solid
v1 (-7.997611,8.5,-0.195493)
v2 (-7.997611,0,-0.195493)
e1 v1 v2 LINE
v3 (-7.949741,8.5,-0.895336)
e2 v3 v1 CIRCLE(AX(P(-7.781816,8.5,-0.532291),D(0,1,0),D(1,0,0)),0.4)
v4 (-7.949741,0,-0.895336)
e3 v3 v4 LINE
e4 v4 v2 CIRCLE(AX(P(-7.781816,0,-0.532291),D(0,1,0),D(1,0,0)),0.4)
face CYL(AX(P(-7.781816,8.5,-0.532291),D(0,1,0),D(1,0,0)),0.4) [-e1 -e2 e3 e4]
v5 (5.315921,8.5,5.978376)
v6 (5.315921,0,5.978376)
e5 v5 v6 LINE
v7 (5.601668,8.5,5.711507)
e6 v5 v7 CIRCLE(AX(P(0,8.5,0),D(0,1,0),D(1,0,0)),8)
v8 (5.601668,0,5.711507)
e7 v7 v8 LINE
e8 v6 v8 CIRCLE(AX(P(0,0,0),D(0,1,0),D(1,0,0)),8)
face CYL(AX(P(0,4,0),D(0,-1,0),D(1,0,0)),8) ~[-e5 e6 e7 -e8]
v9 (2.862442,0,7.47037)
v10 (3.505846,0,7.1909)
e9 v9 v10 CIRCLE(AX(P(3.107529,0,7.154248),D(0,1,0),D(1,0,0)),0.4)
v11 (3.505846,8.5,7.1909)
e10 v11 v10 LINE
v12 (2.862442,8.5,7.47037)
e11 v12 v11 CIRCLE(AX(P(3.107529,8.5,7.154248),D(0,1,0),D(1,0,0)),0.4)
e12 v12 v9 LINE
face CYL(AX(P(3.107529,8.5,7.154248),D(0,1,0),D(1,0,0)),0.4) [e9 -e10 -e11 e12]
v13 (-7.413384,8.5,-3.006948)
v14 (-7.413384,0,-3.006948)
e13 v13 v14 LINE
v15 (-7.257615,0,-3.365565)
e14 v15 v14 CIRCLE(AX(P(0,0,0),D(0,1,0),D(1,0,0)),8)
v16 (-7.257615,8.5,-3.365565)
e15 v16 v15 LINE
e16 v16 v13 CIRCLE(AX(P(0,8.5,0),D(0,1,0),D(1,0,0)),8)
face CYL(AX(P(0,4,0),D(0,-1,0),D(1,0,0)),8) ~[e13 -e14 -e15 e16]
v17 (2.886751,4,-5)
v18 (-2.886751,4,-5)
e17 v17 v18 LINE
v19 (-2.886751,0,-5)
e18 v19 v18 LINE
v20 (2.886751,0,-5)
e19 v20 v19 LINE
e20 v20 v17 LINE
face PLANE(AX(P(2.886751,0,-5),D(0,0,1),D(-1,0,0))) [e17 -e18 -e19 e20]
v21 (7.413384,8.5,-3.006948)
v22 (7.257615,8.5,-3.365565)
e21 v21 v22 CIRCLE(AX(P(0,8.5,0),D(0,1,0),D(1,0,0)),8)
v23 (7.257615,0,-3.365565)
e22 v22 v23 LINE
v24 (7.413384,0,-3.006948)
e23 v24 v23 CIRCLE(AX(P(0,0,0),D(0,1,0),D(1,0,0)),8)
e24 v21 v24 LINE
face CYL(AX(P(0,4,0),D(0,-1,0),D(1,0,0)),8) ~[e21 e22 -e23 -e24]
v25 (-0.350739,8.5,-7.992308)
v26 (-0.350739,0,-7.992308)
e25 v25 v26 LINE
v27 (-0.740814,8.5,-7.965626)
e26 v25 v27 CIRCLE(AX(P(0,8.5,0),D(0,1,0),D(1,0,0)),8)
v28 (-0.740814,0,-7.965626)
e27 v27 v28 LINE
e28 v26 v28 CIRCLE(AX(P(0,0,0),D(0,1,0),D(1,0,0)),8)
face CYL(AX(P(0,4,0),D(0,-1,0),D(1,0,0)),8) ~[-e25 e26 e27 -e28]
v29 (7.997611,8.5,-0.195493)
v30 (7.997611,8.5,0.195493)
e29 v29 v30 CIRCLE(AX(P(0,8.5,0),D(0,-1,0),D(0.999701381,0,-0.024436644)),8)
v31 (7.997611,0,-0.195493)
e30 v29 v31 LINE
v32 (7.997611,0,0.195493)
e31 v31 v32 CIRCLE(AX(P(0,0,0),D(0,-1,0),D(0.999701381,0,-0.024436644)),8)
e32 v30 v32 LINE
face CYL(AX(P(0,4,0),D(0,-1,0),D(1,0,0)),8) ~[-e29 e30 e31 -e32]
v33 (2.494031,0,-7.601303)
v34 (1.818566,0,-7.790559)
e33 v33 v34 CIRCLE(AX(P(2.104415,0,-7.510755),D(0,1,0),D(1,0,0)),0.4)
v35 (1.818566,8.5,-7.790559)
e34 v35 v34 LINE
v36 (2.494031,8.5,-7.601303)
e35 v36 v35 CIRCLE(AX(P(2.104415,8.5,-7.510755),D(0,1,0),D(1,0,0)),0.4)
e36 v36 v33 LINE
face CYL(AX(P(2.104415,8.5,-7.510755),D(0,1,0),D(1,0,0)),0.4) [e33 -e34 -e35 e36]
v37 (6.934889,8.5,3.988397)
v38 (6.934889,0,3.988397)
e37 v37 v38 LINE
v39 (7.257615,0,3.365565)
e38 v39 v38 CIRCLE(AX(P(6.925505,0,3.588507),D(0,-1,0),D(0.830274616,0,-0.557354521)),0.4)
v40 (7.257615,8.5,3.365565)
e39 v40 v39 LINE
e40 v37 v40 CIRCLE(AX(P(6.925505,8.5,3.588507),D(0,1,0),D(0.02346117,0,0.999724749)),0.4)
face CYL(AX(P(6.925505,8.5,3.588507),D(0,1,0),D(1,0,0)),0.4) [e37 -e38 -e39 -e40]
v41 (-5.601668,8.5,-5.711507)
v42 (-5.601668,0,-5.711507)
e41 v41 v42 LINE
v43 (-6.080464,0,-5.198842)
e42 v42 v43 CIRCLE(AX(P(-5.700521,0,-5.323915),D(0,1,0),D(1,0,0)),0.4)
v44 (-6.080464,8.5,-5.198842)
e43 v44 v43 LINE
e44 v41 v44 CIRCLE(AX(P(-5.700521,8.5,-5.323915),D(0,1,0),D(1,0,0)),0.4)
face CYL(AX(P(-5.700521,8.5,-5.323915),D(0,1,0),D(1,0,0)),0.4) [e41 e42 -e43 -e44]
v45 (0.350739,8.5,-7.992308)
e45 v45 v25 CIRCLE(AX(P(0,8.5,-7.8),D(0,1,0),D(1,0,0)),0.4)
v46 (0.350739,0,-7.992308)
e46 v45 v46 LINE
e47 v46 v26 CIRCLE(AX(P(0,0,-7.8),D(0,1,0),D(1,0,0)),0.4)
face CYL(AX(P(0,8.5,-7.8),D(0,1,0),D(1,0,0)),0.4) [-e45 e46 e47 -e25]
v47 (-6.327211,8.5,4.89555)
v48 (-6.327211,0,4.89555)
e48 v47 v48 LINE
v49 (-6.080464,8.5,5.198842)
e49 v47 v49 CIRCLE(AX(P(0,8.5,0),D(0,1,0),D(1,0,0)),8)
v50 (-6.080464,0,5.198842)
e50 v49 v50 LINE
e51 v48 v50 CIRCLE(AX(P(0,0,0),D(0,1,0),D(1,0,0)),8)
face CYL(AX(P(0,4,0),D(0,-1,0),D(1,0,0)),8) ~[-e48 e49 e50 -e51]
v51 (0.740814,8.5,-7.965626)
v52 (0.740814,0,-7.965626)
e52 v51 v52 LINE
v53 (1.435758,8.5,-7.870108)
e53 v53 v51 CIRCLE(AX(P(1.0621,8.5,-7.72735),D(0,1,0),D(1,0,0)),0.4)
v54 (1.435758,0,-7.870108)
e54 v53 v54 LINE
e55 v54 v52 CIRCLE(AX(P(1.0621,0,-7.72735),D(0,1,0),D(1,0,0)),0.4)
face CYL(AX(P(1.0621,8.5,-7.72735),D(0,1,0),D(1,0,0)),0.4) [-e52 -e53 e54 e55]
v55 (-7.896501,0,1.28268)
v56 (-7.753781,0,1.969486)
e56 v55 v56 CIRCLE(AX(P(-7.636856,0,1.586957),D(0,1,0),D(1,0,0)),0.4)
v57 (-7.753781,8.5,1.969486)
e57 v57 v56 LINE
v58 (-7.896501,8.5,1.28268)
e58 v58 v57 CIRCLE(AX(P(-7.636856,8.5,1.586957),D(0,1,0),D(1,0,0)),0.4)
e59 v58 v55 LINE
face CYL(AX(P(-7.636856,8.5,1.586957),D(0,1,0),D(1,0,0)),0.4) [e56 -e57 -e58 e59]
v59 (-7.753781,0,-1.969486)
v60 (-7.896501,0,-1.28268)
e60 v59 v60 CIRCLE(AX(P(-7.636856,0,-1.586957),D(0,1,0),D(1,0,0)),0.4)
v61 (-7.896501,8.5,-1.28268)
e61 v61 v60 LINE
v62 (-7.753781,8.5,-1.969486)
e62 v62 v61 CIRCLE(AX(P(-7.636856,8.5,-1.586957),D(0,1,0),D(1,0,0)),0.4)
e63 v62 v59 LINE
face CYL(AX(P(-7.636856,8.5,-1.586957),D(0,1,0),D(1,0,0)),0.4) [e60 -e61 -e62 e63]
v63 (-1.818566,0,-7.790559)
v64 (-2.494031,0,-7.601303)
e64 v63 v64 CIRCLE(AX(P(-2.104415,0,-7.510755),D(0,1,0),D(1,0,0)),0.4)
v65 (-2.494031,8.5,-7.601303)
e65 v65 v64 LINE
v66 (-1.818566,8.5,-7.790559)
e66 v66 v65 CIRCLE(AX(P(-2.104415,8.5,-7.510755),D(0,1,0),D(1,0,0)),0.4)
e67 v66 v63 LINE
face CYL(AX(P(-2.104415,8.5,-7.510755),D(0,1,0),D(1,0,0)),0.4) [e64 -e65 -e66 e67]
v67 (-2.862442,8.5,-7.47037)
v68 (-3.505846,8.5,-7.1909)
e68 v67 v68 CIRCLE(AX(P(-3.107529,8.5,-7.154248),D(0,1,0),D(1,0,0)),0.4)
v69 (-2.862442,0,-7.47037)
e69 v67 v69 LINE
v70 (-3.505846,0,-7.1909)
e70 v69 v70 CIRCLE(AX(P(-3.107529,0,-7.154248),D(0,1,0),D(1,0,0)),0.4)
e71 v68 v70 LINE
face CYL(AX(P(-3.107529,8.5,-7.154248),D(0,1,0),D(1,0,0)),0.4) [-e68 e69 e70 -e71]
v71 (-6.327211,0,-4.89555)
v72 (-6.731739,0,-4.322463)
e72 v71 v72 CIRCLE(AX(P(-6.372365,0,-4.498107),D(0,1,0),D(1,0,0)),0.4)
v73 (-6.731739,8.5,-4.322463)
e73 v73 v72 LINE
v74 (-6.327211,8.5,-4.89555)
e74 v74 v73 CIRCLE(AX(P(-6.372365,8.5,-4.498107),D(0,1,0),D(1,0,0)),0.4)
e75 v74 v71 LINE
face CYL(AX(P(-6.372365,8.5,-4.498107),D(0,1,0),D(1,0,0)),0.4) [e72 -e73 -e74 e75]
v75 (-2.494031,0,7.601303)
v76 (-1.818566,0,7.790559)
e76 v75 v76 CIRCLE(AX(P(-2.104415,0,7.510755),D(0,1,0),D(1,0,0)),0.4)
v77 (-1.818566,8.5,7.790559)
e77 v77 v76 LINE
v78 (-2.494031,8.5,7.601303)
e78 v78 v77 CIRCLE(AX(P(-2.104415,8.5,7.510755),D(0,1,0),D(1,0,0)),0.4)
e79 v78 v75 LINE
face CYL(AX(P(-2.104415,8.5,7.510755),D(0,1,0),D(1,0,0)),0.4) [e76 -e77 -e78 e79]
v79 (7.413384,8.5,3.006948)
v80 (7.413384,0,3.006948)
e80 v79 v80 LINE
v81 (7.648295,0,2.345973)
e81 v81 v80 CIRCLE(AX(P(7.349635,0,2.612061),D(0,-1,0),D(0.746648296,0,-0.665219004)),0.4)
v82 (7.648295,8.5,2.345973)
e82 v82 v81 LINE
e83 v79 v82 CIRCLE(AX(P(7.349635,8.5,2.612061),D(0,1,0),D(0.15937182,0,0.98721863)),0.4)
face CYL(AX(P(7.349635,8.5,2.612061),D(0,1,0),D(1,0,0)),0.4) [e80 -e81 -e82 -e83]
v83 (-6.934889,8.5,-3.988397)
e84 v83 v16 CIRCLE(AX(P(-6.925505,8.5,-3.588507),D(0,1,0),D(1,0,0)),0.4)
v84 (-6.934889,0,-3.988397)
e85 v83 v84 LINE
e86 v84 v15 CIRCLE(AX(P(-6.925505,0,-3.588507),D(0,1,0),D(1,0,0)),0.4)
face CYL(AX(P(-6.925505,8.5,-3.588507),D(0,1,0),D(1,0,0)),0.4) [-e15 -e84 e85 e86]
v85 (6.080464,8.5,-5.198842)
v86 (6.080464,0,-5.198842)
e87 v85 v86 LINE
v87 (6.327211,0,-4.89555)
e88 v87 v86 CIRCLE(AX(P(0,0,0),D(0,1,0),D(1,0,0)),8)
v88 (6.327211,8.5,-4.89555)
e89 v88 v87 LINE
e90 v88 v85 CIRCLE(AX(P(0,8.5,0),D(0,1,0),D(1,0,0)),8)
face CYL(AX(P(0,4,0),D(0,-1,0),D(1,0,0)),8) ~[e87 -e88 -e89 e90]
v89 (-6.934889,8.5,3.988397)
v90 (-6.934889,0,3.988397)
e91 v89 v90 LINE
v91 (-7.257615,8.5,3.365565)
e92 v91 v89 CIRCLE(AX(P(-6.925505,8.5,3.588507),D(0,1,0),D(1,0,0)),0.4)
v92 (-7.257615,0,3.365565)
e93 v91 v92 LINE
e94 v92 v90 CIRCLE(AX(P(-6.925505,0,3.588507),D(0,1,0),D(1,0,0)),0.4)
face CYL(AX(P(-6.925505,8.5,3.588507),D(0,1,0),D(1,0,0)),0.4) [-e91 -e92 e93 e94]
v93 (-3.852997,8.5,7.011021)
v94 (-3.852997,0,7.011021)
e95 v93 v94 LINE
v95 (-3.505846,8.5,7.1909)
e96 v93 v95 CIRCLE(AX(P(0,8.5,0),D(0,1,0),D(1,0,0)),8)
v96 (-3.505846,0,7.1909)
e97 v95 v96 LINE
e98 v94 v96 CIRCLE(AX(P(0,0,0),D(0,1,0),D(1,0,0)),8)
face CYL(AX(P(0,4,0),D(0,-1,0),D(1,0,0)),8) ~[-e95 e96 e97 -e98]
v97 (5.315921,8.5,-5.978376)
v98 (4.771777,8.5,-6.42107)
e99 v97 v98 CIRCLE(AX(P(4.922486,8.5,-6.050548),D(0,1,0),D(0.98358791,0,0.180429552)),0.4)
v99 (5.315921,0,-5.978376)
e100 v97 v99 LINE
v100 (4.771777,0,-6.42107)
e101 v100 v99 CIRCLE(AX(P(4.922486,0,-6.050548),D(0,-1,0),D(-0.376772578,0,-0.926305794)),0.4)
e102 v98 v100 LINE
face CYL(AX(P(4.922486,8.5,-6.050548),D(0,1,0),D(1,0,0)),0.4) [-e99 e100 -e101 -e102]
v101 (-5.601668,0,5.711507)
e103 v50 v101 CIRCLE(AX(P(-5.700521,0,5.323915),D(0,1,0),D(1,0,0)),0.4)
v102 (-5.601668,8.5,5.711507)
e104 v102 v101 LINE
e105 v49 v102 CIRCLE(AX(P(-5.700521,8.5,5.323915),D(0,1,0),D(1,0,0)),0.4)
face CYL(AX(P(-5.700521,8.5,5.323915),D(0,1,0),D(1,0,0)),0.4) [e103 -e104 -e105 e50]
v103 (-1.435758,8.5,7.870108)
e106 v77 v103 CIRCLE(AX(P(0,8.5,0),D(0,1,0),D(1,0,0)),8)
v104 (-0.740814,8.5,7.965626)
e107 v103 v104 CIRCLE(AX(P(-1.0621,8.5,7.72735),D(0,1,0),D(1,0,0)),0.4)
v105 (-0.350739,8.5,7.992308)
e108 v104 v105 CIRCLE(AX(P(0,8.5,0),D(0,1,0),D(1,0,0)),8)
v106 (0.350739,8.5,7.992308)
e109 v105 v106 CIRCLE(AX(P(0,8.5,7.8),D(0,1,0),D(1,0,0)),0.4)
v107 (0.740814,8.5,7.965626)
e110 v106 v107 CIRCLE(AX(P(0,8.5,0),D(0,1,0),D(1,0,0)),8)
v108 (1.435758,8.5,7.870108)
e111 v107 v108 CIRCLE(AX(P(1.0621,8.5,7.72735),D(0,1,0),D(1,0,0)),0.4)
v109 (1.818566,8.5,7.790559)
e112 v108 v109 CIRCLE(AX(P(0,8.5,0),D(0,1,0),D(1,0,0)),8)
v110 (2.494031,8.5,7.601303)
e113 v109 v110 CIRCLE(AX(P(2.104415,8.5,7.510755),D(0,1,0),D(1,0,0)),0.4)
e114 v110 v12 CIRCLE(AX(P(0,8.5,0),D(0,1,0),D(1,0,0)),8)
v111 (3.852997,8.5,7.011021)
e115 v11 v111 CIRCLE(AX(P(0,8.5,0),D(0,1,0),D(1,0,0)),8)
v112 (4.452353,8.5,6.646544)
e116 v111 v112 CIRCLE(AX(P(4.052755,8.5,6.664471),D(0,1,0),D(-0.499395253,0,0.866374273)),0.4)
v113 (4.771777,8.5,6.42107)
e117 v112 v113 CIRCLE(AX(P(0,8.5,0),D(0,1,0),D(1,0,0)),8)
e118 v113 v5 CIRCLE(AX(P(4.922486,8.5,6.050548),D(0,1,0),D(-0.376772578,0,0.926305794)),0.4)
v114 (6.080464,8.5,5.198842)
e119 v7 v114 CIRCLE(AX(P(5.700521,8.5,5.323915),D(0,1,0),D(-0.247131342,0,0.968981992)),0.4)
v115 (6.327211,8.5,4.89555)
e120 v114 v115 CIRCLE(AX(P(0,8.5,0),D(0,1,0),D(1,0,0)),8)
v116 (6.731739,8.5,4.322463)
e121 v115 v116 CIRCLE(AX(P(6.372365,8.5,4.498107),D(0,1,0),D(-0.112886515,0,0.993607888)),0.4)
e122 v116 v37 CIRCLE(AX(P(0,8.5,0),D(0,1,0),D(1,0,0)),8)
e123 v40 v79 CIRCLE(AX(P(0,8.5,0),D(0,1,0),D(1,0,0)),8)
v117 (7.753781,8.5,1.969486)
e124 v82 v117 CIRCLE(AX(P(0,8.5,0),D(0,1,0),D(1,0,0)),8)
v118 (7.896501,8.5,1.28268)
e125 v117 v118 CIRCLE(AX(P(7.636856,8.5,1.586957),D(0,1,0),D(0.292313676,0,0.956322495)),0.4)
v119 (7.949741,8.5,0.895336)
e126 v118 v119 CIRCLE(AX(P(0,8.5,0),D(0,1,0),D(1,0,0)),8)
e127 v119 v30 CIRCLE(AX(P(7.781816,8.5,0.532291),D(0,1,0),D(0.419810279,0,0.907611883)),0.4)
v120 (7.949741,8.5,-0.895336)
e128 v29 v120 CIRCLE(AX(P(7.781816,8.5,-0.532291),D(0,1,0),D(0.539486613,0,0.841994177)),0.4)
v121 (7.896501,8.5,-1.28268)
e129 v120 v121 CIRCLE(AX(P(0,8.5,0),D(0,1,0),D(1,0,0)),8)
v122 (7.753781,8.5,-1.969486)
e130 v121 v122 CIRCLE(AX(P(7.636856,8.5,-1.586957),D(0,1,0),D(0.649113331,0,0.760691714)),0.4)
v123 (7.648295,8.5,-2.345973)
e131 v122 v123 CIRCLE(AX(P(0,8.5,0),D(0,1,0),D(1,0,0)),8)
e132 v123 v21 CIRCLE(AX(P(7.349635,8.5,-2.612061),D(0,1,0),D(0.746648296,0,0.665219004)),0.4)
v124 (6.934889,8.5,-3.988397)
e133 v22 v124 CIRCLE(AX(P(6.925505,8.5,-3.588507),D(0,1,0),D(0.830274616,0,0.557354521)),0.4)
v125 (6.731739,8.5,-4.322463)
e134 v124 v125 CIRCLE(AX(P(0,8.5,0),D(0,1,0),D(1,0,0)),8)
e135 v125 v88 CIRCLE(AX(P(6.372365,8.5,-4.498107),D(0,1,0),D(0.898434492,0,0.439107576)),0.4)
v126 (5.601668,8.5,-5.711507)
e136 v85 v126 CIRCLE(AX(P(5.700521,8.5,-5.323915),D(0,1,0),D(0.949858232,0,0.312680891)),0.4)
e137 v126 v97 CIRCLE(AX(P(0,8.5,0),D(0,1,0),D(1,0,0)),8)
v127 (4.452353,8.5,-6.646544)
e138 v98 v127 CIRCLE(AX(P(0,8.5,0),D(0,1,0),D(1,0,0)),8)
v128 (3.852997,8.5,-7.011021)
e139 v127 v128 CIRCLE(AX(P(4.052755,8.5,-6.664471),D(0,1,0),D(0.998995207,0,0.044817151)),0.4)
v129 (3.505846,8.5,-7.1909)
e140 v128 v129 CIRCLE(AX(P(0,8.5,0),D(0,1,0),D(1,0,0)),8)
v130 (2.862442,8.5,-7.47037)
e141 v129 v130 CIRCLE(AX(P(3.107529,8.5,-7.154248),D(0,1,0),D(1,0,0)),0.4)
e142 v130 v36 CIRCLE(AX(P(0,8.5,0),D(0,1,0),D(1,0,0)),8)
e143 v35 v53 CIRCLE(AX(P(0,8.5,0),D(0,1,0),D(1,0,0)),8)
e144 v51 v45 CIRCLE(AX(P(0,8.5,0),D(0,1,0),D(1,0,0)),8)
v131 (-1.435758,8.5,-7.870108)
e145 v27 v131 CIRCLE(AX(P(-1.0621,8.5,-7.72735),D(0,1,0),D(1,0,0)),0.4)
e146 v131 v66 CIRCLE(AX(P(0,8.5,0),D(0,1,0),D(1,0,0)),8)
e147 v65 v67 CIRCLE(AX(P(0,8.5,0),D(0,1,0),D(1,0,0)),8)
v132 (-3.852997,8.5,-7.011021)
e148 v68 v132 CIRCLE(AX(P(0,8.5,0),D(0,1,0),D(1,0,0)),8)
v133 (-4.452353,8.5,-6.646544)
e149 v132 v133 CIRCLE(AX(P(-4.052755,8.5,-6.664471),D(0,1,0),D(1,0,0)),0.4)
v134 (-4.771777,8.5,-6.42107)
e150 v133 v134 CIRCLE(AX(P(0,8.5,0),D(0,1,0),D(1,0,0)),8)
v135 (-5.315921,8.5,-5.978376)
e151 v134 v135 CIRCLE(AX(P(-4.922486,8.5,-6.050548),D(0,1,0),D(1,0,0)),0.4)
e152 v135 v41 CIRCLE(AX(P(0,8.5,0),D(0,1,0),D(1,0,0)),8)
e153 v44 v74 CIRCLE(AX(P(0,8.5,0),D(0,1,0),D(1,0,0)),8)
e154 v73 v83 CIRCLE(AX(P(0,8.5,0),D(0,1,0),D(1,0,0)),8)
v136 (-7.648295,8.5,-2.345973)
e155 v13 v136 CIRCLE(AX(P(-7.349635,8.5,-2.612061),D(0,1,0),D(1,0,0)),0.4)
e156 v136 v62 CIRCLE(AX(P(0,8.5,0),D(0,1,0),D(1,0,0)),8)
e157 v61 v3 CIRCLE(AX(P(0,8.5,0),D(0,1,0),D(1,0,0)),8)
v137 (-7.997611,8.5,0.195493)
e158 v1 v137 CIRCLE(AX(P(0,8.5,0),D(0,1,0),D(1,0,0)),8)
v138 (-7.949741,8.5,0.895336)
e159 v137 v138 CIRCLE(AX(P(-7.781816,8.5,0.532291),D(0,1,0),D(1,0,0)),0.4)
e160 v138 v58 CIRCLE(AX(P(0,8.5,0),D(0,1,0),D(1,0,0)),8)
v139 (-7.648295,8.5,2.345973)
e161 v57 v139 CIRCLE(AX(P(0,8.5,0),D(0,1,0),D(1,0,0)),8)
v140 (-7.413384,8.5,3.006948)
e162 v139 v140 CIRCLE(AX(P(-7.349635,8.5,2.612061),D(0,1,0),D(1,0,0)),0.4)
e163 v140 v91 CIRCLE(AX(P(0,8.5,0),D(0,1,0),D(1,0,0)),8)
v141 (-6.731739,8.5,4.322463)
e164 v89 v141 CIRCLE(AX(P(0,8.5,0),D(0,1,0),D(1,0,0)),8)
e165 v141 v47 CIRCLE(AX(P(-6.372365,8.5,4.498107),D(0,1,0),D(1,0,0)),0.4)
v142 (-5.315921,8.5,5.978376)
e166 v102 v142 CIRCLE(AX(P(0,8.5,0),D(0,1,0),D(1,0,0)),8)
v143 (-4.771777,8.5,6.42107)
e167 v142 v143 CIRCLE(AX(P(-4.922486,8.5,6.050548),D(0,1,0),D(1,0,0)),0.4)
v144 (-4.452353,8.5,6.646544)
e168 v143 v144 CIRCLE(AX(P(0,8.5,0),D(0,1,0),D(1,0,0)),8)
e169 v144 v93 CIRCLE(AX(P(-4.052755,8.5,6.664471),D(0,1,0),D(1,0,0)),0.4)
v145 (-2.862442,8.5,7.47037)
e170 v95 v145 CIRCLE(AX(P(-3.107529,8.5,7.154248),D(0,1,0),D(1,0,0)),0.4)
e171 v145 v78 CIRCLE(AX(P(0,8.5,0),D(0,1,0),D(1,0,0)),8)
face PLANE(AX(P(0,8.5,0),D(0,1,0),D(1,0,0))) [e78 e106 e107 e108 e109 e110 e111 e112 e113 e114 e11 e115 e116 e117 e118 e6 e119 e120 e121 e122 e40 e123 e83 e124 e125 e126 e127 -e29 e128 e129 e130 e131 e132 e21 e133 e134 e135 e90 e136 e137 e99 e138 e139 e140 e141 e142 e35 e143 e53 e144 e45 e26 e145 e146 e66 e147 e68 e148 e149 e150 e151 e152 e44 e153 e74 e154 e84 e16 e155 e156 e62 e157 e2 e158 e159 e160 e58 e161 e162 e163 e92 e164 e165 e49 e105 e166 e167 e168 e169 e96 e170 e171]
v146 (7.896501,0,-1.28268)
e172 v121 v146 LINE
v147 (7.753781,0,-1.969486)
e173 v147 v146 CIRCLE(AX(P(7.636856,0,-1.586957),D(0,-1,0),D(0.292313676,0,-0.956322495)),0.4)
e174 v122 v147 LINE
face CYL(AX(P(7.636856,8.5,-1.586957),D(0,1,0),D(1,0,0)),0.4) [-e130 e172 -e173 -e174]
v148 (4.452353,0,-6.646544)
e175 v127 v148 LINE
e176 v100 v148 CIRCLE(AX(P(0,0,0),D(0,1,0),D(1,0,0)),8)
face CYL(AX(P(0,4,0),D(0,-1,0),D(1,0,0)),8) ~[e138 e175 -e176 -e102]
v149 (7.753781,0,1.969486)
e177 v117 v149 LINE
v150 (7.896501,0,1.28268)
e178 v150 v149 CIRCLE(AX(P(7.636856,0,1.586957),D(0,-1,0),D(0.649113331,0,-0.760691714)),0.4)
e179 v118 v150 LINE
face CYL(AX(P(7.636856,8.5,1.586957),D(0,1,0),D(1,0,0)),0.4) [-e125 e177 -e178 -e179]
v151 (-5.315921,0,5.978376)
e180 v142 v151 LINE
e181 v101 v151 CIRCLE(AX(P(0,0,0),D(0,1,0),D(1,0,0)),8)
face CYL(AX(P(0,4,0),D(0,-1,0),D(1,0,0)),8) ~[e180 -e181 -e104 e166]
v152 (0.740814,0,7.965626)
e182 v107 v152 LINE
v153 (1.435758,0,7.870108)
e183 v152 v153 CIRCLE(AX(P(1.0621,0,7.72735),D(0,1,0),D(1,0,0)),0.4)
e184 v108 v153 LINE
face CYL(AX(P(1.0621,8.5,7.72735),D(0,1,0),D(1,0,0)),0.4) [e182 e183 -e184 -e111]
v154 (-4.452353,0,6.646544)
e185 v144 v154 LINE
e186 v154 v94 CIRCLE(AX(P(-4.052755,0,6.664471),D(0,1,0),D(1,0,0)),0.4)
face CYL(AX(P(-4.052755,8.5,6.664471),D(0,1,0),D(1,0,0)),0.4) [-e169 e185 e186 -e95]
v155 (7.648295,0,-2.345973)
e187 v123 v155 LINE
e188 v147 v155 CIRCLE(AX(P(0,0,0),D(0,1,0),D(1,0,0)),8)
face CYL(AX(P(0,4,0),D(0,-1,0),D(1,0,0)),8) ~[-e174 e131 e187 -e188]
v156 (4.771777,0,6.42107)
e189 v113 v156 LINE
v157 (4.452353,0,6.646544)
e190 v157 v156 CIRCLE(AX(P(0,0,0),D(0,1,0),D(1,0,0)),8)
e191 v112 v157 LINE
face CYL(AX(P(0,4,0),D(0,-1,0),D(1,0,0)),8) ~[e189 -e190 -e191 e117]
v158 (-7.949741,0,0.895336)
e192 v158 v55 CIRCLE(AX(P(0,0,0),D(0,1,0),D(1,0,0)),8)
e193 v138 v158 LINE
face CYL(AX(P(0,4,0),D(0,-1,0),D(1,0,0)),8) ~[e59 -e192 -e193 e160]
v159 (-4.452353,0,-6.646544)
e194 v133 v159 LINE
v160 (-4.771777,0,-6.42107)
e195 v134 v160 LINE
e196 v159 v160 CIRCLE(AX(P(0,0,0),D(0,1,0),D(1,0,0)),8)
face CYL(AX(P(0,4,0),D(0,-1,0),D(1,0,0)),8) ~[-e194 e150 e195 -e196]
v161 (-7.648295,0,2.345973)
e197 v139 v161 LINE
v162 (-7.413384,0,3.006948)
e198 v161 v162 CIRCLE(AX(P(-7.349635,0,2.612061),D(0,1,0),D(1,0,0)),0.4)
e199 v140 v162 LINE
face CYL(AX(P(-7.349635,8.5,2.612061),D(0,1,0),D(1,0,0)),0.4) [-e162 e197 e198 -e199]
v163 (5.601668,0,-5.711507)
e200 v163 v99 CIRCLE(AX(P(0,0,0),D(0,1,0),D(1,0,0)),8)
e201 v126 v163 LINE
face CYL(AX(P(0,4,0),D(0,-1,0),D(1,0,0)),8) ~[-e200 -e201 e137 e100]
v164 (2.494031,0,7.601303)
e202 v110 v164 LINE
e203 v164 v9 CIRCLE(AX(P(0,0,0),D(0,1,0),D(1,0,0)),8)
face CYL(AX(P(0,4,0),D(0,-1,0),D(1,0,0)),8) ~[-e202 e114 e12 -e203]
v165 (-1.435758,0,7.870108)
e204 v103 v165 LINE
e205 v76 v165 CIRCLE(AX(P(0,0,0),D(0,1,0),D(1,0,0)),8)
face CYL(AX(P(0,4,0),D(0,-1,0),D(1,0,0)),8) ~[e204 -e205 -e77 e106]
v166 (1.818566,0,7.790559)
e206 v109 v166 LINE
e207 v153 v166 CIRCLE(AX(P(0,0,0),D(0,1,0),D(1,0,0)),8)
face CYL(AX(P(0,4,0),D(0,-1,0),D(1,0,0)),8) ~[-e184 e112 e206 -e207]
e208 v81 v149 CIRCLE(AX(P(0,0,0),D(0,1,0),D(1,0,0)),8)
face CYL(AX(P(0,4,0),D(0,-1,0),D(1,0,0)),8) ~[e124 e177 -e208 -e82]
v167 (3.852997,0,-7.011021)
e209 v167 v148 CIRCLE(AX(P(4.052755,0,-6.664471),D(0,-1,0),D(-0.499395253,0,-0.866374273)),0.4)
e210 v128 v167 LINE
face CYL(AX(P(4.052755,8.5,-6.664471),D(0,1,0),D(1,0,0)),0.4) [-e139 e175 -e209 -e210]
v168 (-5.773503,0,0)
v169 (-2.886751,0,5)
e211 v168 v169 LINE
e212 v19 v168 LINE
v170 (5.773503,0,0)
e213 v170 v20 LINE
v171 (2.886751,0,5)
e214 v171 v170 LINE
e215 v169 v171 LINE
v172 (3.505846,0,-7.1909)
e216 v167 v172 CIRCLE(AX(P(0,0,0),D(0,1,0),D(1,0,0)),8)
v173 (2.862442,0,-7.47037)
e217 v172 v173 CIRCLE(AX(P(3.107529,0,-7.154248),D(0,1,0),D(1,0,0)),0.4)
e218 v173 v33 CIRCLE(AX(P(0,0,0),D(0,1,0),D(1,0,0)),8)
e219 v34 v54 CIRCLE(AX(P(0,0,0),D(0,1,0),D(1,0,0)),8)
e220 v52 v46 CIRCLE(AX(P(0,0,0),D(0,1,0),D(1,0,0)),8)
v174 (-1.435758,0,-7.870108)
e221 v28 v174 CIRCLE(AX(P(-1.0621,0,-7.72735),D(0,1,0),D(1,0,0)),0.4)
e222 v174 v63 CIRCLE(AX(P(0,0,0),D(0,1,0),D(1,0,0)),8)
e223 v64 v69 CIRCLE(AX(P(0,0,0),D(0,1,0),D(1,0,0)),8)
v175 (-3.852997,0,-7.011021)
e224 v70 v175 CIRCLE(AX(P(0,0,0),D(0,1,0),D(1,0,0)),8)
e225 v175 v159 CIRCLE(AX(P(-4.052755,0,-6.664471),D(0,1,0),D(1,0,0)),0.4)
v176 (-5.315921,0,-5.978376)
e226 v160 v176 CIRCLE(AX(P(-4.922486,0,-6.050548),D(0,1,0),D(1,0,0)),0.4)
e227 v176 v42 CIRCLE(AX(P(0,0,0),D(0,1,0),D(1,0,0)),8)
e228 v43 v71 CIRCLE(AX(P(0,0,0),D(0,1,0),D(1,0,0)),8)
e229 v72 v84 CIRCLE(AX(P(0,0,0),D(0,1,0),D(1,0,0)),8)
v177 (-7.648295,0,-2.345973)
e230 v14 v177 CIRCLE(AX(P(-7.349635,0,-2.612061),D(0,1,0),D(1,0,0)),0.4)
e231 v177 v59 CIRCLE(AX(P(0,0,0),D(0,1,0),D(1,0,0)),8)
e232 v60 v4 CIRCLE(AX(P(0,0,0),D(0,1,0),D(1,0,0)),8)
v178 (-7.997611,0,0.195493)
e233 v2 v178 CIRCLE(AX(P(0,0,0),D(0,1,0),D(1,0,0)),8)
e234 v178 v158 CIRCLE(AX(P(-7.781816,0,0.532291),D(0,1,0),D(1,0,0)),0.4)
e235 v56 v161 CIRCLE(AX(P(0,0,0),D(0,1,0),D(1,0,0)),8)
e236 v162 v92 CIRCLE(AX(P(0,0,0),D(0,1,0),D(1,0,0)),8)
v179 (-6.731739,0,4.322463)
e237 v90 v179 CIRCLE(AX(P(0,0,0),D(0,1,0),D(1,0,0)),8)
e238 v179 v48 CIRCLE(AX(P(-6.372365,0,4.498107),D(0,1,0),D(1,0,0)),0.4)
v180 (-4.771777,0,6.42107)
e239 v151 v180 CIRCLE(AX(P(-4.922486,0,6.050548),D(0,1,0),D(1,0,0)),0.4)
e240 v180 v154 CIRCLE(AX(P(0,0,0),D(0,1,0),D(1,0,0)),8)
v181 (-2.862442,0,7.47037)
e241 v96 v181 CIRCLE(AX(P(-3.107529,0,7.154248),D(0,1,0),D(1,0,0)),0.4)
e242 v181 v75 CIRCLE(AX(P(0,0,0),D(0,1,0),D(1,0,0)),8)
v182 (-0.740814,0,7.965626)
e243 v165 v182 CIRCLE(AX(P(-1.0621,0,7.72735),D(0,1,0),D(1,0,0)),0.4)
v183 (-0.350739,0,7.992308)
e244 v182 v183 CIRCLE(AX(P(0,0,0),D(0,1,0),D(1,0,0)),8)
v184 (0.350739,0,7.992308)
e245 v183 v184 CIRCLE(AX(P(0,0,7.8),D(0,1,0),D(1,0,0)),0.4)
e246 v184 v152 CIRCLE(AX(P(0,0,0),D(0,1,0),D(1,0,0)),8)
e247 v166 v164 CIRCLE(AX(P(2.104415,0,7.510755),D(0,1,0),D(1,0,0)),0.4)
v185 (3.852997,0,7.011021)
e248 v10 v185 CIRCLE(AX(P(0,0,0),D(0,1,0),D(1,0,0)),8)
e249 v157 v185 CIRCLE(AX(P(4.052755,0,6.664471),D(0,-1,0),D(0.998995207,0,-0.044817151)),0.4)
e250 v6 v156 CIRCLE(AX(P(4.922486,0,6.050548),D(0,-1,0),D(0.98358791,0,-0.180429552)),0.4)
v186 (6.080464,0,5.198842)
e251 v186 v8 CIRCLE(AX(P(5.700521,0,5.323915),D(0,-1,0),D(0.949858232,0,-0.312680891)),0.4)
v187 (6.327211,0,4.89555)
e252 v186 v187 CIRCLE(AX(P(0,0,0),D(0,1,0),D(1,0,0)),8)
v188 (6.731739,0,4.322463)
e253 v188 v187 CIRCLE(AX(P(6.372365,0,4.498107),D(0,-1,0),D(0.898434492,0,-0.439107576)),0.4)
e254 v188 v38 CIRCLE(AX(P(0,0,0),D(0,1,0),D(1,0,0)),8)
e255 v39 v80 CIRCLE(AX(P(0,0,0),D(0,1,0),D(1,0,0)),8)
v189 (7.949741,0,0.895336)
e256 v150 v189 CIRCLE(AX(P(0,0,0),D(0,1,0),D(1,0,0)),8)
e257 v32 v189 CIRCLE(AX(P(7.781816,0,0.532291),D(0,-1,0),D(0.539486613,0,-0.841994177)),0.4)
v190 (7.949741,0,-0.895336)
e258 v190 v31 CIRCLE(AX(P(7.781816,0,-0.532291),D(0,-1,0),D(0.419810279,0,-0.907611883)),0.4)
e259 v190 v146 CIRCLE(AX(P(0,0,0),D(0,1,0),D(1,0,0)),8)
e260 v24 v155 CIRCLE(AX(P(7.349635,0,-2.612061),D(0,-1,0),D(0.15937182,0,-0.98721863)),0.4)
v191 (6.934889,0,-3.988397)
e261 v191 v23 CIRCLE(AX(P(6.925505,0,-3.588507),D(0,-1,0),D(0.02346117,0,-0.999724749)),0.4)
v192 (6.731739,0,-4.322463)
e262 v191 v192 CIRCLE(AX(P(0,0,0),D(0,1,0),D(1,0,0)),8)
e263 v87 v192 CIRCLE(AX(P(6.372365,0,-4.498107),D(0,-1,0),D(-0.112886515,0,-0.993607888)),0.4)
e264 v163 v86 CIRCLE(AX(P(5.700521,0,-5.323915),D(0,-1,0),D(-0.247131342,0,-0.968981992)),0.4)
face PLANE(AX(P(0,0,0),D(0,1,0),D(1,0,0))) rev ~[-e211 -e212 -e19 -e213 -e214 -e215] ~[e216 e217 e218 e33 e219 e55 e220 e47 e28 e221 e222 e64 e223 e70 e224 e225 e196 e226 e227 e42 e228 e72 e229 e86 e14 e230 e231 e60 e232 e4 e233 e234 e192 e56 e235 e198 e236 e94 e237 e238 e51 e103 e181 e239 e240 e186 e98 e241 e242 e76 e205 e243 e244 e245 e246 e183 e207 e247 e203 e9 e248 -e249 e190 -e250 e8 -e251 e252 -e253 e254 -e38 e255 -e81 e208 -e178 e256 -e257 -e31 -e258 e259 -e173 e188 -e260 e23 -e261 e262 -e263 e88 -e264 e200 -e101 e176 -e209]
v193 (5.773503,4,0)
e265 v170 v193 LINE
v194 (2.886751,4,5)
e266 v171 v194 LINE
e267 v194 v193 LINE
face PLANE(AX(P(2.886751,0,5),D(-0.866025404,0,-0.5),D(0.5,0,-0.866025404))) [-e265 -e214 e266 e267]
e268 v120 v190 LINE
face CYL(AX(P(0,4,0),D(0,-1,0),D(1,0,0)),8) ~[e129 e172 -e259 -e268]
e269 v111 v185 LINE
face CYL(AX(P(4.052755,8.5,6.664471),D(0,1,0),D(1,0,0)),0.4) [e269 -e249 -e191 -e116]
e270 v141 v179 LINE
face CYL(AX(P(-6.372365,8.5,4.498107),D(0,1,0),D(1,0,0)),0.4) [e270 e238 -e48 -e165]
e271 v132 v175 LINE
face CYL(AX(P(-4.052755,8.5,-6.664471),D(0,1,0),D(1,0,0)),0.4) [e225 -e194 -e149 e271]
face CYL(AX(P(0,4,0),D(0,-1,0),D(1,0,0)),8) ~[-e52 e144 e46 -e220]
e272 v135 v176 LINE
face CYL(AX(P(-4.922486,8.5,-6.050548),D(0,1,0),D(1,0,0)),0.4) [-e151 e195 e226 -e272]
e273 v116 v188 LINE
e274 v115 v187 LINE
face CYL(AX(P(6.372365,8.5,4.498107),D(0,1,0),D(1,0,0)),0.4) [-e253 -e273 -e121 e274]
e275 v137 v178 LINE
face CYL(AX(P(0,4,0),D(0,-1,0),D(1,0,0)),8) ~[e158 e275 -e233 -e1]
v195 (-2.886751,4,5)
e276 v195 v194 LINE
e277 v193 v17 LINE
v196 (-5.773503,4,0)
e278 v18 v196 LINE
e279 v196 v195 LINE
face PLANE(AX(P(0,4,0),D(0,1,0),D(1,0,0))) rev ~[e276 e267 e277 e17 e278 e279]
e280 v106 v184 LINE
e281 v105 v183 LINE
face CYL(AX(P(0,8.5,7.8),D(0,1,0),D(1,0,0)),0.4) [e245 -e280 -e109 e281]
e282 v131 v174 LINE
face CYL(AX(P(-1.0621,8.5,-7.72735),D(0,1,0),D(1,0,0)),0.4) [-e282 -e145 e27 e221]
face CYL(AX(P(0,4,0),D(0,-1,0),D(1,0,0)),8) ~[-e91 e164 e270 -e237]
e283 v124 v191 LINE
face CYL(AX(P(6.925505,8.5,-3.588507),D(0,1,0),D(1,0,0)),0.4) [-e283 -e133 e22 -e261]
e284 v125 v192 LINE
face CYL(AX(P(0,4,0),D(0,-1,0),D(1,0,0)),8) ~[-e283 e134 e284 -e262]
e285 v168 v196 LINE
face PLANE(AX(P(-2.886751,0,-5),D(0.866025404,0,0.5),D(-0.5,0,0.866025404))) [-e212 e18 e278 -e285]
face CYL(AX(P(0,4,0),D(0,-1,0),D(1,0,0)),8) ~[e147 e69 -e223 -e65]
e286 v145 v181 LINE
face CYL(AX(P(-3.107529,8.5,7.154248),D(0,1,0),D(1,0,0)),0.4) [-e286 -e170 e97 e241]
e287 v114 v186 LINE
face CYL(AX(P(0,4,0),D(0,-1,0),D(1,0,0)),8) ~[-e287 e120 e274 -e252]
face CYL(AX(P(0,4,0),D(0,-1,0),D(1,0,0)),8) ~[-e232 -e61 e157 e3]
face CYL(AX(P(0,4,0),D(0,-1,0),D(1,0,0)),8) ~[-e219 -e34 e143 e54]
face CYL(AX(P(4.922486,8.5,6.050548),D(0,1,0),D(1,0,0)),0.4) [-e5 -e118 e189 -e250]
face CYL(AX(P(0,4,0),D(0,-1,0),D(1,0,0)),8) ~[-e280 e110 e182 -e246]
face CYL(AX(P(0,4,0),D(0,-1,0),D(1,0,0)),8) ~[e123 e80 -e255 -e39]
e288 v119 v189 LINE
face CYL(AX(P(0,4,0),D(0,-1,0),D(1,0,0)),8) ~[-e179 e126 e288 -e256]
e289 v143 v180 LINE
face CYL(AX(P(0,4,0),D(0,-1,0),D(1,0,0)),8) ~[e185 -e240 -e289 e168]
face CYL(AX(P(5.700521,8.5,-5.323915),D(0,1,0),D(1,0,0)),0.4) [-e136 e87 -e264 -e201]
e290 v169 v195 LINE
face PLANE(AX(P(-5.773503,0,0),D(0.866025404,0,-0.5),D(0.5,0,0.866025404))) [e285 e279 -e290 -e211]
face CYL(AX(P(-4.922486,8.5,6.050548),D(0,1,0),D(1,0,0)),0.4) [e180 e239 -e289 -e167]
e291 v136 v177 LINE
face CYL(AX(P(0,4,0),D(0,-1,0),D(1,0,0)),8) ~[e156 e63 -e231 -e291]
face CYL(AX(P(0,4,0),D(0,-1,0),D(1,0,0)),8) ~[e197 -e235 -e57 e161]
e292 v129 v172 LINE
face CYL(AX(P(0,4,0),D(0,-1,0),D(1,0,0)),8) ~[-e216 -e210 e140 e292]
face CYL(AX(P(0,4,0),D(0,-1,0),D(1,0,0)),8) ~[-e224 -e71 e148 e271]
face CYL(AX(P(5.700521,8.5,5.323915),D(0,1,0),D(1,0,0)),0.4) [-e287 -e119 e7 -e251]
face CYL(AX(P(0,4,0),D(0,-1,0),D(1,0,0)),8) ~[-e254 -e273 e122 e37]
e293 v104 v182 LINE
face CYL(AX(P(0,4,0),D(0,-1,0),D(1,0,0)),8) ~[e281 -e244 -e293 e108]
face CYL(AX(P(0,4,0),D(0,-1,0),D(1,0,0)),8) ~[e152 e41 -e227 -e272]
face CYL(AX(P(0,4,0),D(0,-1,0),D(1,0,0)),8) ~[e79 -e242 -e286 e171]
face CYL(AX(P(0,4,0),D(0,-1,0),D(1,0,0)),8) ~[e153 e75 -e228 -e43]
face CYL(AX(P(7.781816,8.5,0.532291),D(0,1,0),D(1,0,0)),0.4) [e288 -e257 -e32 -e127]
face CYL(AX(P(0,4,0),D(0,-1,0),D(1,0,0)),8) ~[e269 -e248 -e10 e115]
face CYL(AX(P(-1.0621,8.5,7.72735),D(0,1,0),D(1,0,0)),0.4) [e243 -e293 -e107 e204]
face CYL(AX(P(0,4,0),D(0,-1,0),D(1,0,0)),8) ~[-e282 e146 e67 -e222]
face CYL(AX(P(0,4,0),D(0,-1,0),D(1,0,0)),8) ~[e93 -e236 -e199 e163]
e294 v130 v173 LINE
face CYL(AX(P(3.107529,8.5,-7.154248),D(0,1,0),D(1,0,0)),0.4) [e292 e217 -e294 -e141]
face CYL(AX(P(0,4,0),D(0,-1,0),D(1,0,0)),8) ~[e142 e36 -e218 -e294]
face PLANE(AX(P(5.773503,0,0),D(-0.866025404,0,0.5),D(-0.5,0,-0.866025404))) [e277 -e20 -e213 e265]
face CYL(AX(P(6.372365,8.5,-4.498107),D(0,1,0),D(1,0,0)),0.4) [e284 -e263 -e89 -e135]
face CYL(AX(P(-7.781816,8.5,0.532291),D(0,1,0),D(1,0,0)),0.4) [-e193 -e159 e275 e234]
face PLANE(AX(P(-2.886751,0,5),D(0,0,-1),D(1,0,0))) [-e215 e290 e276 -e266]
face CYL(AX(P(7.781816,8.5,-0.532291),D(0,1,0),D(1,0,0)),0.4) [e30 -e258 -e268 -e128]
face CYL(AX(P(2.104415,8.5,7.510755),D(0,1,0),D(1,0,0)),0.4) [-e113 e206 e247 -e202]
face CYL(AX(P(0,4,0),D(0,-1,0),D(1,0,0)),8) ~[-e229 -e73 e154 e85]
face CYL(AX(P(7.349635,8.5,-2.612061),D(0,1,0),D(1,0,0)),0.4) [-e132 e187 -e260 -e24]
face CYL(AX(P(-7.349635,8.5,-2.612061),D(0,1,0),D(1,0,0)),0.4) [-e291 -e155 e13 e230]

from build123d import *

# Parameters (mm, degrees)
SKETCH1_R           = 8
BOSS_EXTRUDE1_DEPTH = 4
SKETCH3_R           = 8
BOSS_EXTRUDE3_DEPTH = 4.5
SKETCH2_R           = 0.4
BOSS_EXTRUDE2_DEPTH = 8.5


with BuildPart() as part:
    # Sketch1 → Boss-Extrude1 (new body)
    with BuildSketch(Plane(origin=(0, 0, 0), x_dir=(1, 0, 0), z_dir=(0, 1, 0))):
        Circle(SKETCH1_R)
        Polygon((5.773502692, 0), (2.886751346, 5), (-2.886751346, 5), (-5.773502692, 0), (-2.886751346, -5), (2.886751346, -5), align=None, mode=Mode.SUBTRACT)
    extrude(amount=BOSS_EXTRUDE1_DEPTH)

    # Sketch3 → Boss-Extrude3 (add)
    with BuildSketch(Plane(origin=(0, 4, 0), x_dir=(1, 0, 0), z_dir=(0, 1, 0))):
        Circle(SKETCH3_R)
    extrude(amount=BOSS_EXTRUDE3_DEPTH)

    # Sketch2 → Boss-Extrude2 (add, through all)
    with BuildSketch(Plane(origin=(0, 8.5, 0), x_dir=(1, 0, 0), z_dir=(0, 1, 0))):
        with Locations((0, 7.8)):
            Circle(SKETCH2_R)
        with Locations((1.062099863, 7.727350379)):
            Circle(SKETCH2_R)
        with Locations((2.104414815, 7.510754841)):
            Circle(SKETCH2_R)
        with Locations((3.107528501, 7.154248152)):
            Circle(SKETCH2_R)
        with Locations((4.05275481, 6.664471355)):
            Circle(SKETCH2_R)
        with Locations((4.922485966, 6.050548067)):
            Circle(SKETCH2_R)
        with Locations((5.700520521, 5.323914517)):
            Circle(SKETCH2_R)
        with Locations((6.372365165, 4.498106512)):
            Circle(SKETCH2_R)
        with Locations((6.925504704, 3.588507294)):
            Circle(SKETCH2_R)
        with Locations((7.349635193, 2.612060975)):
            Circle(SKETCH2_R)
        with Locations((7.636855884, 1.586956902)):
            Circle(SKETCH2_R)
        with Locations((7.7818164, 0.532290824)):
            Circle(SKETCH2_R)
        with Locations((7.7818164, -0.532290824)):
            Circle(SKETCH2_R)
        with Locations((7.636855884, -1.586956902)):
            Circle(SKETCH2_R)
        with Locations((7.349635193, -2.612060975)):
            Circle(SKETCH2_R)
        with Locations((6.925504704, -3.588507294)):
            Circle(SKETCH2_R)
        with Locations((6.372365165, -4.498106512)):
            Circle(SKETCH2_R)
        with Locations((5.700520521, -5.323914517)):
            Circle(SKETCH2_R)
        with Locations((4.922485966, -6.050548067)):
            Circle(SKETCH2_R)
        with Locations((4.05275481, -6.664471355)):
            Circle(SKETCH2_R)
        with Locations((3.107528501, -7.154248152)):
            Circle(SKETCH2_R)
        with Locations((2.104414815, -7.510754841)):
            Circle(SKETCH2_R)
        with Locations((1.062099863, -7.727350379)):
            Circle(SKETCH2_R)
        with Locations((0, -7.8)):
            Circle(SKETCH2_R)
        with Locations((-1.062099863, -7.727350379)):
            Circle(SKETCH2_R)
        with Locations((-2.104414815, -7.510754841)):
            Circle(SKETCH2_R)
        with Locations((-3.107528501, -7.154248152)):
            Circle(SKETCH2_R)
        with Locations((-4.05275481, -6.664471355)):
            Circle(SKETCH2_R)
        with Locations((-4.922485966, -6.050548067)):
            Circle(SKETCH2_R)
        with Locations((-5.700520521, -5.323914517)):
            Circle(SKETCH2_R)
        with Locations((-6.372365165, -4.498106512)):
            Circle(SKETCH2_R)
        with Locations((-6.925504704, -3.588507294)):
            Circle(SKETCH2_R)
        with Locations((-7.349635193, -2.612060975)):
            Circle(SKETCH2_R)
        with Locations((-7.636855884, -1.586956902)):
            Circle(SKETCH2_R)
        with Locations((-7.7818164, -0.532290824)):
            Circle(SKETCH2_R)
        with Locations((-7.7818164, 0.532290824)):
            Circle(SKETCH2_R)
        with Locations((-7.636855884, 1.586956902)):
            Circle(SKETCH2_R)
        with Locations((-7.349635193, 2.612060975)):
            Circle(SKETCH2_R)
        with Locations((-6.925504704, 3.588507294)):
            Circle(SKETCH2_R)
        with Locations((-6.372365165, 4.498106512)):
            Circle(SKETCH2_R)
        with Locations((-5.700520521, 5.323914517)):
            Circle(SKETCH2_R)
        with Locations((-4.922485966, 6.050548067)):
            Circle(SKETCH2_R)
        with Locations((-4.05275481, 6.664471355)):
            Circle(SKETCH2_R)
        with Locations((-3.107528501, 7.154248152)):
            Circle(SKETCH2_R)
        with Locations((-2.104414815, 7.510754841)):
            Circle(SKETCH2_R)
        with Locations((-1.062099863, 7.727350379)):
            Circle(SKETCH2_R)
    extrude(amount=-BOSS_EXTRUDE2_DEPTH)


solid = part.part
